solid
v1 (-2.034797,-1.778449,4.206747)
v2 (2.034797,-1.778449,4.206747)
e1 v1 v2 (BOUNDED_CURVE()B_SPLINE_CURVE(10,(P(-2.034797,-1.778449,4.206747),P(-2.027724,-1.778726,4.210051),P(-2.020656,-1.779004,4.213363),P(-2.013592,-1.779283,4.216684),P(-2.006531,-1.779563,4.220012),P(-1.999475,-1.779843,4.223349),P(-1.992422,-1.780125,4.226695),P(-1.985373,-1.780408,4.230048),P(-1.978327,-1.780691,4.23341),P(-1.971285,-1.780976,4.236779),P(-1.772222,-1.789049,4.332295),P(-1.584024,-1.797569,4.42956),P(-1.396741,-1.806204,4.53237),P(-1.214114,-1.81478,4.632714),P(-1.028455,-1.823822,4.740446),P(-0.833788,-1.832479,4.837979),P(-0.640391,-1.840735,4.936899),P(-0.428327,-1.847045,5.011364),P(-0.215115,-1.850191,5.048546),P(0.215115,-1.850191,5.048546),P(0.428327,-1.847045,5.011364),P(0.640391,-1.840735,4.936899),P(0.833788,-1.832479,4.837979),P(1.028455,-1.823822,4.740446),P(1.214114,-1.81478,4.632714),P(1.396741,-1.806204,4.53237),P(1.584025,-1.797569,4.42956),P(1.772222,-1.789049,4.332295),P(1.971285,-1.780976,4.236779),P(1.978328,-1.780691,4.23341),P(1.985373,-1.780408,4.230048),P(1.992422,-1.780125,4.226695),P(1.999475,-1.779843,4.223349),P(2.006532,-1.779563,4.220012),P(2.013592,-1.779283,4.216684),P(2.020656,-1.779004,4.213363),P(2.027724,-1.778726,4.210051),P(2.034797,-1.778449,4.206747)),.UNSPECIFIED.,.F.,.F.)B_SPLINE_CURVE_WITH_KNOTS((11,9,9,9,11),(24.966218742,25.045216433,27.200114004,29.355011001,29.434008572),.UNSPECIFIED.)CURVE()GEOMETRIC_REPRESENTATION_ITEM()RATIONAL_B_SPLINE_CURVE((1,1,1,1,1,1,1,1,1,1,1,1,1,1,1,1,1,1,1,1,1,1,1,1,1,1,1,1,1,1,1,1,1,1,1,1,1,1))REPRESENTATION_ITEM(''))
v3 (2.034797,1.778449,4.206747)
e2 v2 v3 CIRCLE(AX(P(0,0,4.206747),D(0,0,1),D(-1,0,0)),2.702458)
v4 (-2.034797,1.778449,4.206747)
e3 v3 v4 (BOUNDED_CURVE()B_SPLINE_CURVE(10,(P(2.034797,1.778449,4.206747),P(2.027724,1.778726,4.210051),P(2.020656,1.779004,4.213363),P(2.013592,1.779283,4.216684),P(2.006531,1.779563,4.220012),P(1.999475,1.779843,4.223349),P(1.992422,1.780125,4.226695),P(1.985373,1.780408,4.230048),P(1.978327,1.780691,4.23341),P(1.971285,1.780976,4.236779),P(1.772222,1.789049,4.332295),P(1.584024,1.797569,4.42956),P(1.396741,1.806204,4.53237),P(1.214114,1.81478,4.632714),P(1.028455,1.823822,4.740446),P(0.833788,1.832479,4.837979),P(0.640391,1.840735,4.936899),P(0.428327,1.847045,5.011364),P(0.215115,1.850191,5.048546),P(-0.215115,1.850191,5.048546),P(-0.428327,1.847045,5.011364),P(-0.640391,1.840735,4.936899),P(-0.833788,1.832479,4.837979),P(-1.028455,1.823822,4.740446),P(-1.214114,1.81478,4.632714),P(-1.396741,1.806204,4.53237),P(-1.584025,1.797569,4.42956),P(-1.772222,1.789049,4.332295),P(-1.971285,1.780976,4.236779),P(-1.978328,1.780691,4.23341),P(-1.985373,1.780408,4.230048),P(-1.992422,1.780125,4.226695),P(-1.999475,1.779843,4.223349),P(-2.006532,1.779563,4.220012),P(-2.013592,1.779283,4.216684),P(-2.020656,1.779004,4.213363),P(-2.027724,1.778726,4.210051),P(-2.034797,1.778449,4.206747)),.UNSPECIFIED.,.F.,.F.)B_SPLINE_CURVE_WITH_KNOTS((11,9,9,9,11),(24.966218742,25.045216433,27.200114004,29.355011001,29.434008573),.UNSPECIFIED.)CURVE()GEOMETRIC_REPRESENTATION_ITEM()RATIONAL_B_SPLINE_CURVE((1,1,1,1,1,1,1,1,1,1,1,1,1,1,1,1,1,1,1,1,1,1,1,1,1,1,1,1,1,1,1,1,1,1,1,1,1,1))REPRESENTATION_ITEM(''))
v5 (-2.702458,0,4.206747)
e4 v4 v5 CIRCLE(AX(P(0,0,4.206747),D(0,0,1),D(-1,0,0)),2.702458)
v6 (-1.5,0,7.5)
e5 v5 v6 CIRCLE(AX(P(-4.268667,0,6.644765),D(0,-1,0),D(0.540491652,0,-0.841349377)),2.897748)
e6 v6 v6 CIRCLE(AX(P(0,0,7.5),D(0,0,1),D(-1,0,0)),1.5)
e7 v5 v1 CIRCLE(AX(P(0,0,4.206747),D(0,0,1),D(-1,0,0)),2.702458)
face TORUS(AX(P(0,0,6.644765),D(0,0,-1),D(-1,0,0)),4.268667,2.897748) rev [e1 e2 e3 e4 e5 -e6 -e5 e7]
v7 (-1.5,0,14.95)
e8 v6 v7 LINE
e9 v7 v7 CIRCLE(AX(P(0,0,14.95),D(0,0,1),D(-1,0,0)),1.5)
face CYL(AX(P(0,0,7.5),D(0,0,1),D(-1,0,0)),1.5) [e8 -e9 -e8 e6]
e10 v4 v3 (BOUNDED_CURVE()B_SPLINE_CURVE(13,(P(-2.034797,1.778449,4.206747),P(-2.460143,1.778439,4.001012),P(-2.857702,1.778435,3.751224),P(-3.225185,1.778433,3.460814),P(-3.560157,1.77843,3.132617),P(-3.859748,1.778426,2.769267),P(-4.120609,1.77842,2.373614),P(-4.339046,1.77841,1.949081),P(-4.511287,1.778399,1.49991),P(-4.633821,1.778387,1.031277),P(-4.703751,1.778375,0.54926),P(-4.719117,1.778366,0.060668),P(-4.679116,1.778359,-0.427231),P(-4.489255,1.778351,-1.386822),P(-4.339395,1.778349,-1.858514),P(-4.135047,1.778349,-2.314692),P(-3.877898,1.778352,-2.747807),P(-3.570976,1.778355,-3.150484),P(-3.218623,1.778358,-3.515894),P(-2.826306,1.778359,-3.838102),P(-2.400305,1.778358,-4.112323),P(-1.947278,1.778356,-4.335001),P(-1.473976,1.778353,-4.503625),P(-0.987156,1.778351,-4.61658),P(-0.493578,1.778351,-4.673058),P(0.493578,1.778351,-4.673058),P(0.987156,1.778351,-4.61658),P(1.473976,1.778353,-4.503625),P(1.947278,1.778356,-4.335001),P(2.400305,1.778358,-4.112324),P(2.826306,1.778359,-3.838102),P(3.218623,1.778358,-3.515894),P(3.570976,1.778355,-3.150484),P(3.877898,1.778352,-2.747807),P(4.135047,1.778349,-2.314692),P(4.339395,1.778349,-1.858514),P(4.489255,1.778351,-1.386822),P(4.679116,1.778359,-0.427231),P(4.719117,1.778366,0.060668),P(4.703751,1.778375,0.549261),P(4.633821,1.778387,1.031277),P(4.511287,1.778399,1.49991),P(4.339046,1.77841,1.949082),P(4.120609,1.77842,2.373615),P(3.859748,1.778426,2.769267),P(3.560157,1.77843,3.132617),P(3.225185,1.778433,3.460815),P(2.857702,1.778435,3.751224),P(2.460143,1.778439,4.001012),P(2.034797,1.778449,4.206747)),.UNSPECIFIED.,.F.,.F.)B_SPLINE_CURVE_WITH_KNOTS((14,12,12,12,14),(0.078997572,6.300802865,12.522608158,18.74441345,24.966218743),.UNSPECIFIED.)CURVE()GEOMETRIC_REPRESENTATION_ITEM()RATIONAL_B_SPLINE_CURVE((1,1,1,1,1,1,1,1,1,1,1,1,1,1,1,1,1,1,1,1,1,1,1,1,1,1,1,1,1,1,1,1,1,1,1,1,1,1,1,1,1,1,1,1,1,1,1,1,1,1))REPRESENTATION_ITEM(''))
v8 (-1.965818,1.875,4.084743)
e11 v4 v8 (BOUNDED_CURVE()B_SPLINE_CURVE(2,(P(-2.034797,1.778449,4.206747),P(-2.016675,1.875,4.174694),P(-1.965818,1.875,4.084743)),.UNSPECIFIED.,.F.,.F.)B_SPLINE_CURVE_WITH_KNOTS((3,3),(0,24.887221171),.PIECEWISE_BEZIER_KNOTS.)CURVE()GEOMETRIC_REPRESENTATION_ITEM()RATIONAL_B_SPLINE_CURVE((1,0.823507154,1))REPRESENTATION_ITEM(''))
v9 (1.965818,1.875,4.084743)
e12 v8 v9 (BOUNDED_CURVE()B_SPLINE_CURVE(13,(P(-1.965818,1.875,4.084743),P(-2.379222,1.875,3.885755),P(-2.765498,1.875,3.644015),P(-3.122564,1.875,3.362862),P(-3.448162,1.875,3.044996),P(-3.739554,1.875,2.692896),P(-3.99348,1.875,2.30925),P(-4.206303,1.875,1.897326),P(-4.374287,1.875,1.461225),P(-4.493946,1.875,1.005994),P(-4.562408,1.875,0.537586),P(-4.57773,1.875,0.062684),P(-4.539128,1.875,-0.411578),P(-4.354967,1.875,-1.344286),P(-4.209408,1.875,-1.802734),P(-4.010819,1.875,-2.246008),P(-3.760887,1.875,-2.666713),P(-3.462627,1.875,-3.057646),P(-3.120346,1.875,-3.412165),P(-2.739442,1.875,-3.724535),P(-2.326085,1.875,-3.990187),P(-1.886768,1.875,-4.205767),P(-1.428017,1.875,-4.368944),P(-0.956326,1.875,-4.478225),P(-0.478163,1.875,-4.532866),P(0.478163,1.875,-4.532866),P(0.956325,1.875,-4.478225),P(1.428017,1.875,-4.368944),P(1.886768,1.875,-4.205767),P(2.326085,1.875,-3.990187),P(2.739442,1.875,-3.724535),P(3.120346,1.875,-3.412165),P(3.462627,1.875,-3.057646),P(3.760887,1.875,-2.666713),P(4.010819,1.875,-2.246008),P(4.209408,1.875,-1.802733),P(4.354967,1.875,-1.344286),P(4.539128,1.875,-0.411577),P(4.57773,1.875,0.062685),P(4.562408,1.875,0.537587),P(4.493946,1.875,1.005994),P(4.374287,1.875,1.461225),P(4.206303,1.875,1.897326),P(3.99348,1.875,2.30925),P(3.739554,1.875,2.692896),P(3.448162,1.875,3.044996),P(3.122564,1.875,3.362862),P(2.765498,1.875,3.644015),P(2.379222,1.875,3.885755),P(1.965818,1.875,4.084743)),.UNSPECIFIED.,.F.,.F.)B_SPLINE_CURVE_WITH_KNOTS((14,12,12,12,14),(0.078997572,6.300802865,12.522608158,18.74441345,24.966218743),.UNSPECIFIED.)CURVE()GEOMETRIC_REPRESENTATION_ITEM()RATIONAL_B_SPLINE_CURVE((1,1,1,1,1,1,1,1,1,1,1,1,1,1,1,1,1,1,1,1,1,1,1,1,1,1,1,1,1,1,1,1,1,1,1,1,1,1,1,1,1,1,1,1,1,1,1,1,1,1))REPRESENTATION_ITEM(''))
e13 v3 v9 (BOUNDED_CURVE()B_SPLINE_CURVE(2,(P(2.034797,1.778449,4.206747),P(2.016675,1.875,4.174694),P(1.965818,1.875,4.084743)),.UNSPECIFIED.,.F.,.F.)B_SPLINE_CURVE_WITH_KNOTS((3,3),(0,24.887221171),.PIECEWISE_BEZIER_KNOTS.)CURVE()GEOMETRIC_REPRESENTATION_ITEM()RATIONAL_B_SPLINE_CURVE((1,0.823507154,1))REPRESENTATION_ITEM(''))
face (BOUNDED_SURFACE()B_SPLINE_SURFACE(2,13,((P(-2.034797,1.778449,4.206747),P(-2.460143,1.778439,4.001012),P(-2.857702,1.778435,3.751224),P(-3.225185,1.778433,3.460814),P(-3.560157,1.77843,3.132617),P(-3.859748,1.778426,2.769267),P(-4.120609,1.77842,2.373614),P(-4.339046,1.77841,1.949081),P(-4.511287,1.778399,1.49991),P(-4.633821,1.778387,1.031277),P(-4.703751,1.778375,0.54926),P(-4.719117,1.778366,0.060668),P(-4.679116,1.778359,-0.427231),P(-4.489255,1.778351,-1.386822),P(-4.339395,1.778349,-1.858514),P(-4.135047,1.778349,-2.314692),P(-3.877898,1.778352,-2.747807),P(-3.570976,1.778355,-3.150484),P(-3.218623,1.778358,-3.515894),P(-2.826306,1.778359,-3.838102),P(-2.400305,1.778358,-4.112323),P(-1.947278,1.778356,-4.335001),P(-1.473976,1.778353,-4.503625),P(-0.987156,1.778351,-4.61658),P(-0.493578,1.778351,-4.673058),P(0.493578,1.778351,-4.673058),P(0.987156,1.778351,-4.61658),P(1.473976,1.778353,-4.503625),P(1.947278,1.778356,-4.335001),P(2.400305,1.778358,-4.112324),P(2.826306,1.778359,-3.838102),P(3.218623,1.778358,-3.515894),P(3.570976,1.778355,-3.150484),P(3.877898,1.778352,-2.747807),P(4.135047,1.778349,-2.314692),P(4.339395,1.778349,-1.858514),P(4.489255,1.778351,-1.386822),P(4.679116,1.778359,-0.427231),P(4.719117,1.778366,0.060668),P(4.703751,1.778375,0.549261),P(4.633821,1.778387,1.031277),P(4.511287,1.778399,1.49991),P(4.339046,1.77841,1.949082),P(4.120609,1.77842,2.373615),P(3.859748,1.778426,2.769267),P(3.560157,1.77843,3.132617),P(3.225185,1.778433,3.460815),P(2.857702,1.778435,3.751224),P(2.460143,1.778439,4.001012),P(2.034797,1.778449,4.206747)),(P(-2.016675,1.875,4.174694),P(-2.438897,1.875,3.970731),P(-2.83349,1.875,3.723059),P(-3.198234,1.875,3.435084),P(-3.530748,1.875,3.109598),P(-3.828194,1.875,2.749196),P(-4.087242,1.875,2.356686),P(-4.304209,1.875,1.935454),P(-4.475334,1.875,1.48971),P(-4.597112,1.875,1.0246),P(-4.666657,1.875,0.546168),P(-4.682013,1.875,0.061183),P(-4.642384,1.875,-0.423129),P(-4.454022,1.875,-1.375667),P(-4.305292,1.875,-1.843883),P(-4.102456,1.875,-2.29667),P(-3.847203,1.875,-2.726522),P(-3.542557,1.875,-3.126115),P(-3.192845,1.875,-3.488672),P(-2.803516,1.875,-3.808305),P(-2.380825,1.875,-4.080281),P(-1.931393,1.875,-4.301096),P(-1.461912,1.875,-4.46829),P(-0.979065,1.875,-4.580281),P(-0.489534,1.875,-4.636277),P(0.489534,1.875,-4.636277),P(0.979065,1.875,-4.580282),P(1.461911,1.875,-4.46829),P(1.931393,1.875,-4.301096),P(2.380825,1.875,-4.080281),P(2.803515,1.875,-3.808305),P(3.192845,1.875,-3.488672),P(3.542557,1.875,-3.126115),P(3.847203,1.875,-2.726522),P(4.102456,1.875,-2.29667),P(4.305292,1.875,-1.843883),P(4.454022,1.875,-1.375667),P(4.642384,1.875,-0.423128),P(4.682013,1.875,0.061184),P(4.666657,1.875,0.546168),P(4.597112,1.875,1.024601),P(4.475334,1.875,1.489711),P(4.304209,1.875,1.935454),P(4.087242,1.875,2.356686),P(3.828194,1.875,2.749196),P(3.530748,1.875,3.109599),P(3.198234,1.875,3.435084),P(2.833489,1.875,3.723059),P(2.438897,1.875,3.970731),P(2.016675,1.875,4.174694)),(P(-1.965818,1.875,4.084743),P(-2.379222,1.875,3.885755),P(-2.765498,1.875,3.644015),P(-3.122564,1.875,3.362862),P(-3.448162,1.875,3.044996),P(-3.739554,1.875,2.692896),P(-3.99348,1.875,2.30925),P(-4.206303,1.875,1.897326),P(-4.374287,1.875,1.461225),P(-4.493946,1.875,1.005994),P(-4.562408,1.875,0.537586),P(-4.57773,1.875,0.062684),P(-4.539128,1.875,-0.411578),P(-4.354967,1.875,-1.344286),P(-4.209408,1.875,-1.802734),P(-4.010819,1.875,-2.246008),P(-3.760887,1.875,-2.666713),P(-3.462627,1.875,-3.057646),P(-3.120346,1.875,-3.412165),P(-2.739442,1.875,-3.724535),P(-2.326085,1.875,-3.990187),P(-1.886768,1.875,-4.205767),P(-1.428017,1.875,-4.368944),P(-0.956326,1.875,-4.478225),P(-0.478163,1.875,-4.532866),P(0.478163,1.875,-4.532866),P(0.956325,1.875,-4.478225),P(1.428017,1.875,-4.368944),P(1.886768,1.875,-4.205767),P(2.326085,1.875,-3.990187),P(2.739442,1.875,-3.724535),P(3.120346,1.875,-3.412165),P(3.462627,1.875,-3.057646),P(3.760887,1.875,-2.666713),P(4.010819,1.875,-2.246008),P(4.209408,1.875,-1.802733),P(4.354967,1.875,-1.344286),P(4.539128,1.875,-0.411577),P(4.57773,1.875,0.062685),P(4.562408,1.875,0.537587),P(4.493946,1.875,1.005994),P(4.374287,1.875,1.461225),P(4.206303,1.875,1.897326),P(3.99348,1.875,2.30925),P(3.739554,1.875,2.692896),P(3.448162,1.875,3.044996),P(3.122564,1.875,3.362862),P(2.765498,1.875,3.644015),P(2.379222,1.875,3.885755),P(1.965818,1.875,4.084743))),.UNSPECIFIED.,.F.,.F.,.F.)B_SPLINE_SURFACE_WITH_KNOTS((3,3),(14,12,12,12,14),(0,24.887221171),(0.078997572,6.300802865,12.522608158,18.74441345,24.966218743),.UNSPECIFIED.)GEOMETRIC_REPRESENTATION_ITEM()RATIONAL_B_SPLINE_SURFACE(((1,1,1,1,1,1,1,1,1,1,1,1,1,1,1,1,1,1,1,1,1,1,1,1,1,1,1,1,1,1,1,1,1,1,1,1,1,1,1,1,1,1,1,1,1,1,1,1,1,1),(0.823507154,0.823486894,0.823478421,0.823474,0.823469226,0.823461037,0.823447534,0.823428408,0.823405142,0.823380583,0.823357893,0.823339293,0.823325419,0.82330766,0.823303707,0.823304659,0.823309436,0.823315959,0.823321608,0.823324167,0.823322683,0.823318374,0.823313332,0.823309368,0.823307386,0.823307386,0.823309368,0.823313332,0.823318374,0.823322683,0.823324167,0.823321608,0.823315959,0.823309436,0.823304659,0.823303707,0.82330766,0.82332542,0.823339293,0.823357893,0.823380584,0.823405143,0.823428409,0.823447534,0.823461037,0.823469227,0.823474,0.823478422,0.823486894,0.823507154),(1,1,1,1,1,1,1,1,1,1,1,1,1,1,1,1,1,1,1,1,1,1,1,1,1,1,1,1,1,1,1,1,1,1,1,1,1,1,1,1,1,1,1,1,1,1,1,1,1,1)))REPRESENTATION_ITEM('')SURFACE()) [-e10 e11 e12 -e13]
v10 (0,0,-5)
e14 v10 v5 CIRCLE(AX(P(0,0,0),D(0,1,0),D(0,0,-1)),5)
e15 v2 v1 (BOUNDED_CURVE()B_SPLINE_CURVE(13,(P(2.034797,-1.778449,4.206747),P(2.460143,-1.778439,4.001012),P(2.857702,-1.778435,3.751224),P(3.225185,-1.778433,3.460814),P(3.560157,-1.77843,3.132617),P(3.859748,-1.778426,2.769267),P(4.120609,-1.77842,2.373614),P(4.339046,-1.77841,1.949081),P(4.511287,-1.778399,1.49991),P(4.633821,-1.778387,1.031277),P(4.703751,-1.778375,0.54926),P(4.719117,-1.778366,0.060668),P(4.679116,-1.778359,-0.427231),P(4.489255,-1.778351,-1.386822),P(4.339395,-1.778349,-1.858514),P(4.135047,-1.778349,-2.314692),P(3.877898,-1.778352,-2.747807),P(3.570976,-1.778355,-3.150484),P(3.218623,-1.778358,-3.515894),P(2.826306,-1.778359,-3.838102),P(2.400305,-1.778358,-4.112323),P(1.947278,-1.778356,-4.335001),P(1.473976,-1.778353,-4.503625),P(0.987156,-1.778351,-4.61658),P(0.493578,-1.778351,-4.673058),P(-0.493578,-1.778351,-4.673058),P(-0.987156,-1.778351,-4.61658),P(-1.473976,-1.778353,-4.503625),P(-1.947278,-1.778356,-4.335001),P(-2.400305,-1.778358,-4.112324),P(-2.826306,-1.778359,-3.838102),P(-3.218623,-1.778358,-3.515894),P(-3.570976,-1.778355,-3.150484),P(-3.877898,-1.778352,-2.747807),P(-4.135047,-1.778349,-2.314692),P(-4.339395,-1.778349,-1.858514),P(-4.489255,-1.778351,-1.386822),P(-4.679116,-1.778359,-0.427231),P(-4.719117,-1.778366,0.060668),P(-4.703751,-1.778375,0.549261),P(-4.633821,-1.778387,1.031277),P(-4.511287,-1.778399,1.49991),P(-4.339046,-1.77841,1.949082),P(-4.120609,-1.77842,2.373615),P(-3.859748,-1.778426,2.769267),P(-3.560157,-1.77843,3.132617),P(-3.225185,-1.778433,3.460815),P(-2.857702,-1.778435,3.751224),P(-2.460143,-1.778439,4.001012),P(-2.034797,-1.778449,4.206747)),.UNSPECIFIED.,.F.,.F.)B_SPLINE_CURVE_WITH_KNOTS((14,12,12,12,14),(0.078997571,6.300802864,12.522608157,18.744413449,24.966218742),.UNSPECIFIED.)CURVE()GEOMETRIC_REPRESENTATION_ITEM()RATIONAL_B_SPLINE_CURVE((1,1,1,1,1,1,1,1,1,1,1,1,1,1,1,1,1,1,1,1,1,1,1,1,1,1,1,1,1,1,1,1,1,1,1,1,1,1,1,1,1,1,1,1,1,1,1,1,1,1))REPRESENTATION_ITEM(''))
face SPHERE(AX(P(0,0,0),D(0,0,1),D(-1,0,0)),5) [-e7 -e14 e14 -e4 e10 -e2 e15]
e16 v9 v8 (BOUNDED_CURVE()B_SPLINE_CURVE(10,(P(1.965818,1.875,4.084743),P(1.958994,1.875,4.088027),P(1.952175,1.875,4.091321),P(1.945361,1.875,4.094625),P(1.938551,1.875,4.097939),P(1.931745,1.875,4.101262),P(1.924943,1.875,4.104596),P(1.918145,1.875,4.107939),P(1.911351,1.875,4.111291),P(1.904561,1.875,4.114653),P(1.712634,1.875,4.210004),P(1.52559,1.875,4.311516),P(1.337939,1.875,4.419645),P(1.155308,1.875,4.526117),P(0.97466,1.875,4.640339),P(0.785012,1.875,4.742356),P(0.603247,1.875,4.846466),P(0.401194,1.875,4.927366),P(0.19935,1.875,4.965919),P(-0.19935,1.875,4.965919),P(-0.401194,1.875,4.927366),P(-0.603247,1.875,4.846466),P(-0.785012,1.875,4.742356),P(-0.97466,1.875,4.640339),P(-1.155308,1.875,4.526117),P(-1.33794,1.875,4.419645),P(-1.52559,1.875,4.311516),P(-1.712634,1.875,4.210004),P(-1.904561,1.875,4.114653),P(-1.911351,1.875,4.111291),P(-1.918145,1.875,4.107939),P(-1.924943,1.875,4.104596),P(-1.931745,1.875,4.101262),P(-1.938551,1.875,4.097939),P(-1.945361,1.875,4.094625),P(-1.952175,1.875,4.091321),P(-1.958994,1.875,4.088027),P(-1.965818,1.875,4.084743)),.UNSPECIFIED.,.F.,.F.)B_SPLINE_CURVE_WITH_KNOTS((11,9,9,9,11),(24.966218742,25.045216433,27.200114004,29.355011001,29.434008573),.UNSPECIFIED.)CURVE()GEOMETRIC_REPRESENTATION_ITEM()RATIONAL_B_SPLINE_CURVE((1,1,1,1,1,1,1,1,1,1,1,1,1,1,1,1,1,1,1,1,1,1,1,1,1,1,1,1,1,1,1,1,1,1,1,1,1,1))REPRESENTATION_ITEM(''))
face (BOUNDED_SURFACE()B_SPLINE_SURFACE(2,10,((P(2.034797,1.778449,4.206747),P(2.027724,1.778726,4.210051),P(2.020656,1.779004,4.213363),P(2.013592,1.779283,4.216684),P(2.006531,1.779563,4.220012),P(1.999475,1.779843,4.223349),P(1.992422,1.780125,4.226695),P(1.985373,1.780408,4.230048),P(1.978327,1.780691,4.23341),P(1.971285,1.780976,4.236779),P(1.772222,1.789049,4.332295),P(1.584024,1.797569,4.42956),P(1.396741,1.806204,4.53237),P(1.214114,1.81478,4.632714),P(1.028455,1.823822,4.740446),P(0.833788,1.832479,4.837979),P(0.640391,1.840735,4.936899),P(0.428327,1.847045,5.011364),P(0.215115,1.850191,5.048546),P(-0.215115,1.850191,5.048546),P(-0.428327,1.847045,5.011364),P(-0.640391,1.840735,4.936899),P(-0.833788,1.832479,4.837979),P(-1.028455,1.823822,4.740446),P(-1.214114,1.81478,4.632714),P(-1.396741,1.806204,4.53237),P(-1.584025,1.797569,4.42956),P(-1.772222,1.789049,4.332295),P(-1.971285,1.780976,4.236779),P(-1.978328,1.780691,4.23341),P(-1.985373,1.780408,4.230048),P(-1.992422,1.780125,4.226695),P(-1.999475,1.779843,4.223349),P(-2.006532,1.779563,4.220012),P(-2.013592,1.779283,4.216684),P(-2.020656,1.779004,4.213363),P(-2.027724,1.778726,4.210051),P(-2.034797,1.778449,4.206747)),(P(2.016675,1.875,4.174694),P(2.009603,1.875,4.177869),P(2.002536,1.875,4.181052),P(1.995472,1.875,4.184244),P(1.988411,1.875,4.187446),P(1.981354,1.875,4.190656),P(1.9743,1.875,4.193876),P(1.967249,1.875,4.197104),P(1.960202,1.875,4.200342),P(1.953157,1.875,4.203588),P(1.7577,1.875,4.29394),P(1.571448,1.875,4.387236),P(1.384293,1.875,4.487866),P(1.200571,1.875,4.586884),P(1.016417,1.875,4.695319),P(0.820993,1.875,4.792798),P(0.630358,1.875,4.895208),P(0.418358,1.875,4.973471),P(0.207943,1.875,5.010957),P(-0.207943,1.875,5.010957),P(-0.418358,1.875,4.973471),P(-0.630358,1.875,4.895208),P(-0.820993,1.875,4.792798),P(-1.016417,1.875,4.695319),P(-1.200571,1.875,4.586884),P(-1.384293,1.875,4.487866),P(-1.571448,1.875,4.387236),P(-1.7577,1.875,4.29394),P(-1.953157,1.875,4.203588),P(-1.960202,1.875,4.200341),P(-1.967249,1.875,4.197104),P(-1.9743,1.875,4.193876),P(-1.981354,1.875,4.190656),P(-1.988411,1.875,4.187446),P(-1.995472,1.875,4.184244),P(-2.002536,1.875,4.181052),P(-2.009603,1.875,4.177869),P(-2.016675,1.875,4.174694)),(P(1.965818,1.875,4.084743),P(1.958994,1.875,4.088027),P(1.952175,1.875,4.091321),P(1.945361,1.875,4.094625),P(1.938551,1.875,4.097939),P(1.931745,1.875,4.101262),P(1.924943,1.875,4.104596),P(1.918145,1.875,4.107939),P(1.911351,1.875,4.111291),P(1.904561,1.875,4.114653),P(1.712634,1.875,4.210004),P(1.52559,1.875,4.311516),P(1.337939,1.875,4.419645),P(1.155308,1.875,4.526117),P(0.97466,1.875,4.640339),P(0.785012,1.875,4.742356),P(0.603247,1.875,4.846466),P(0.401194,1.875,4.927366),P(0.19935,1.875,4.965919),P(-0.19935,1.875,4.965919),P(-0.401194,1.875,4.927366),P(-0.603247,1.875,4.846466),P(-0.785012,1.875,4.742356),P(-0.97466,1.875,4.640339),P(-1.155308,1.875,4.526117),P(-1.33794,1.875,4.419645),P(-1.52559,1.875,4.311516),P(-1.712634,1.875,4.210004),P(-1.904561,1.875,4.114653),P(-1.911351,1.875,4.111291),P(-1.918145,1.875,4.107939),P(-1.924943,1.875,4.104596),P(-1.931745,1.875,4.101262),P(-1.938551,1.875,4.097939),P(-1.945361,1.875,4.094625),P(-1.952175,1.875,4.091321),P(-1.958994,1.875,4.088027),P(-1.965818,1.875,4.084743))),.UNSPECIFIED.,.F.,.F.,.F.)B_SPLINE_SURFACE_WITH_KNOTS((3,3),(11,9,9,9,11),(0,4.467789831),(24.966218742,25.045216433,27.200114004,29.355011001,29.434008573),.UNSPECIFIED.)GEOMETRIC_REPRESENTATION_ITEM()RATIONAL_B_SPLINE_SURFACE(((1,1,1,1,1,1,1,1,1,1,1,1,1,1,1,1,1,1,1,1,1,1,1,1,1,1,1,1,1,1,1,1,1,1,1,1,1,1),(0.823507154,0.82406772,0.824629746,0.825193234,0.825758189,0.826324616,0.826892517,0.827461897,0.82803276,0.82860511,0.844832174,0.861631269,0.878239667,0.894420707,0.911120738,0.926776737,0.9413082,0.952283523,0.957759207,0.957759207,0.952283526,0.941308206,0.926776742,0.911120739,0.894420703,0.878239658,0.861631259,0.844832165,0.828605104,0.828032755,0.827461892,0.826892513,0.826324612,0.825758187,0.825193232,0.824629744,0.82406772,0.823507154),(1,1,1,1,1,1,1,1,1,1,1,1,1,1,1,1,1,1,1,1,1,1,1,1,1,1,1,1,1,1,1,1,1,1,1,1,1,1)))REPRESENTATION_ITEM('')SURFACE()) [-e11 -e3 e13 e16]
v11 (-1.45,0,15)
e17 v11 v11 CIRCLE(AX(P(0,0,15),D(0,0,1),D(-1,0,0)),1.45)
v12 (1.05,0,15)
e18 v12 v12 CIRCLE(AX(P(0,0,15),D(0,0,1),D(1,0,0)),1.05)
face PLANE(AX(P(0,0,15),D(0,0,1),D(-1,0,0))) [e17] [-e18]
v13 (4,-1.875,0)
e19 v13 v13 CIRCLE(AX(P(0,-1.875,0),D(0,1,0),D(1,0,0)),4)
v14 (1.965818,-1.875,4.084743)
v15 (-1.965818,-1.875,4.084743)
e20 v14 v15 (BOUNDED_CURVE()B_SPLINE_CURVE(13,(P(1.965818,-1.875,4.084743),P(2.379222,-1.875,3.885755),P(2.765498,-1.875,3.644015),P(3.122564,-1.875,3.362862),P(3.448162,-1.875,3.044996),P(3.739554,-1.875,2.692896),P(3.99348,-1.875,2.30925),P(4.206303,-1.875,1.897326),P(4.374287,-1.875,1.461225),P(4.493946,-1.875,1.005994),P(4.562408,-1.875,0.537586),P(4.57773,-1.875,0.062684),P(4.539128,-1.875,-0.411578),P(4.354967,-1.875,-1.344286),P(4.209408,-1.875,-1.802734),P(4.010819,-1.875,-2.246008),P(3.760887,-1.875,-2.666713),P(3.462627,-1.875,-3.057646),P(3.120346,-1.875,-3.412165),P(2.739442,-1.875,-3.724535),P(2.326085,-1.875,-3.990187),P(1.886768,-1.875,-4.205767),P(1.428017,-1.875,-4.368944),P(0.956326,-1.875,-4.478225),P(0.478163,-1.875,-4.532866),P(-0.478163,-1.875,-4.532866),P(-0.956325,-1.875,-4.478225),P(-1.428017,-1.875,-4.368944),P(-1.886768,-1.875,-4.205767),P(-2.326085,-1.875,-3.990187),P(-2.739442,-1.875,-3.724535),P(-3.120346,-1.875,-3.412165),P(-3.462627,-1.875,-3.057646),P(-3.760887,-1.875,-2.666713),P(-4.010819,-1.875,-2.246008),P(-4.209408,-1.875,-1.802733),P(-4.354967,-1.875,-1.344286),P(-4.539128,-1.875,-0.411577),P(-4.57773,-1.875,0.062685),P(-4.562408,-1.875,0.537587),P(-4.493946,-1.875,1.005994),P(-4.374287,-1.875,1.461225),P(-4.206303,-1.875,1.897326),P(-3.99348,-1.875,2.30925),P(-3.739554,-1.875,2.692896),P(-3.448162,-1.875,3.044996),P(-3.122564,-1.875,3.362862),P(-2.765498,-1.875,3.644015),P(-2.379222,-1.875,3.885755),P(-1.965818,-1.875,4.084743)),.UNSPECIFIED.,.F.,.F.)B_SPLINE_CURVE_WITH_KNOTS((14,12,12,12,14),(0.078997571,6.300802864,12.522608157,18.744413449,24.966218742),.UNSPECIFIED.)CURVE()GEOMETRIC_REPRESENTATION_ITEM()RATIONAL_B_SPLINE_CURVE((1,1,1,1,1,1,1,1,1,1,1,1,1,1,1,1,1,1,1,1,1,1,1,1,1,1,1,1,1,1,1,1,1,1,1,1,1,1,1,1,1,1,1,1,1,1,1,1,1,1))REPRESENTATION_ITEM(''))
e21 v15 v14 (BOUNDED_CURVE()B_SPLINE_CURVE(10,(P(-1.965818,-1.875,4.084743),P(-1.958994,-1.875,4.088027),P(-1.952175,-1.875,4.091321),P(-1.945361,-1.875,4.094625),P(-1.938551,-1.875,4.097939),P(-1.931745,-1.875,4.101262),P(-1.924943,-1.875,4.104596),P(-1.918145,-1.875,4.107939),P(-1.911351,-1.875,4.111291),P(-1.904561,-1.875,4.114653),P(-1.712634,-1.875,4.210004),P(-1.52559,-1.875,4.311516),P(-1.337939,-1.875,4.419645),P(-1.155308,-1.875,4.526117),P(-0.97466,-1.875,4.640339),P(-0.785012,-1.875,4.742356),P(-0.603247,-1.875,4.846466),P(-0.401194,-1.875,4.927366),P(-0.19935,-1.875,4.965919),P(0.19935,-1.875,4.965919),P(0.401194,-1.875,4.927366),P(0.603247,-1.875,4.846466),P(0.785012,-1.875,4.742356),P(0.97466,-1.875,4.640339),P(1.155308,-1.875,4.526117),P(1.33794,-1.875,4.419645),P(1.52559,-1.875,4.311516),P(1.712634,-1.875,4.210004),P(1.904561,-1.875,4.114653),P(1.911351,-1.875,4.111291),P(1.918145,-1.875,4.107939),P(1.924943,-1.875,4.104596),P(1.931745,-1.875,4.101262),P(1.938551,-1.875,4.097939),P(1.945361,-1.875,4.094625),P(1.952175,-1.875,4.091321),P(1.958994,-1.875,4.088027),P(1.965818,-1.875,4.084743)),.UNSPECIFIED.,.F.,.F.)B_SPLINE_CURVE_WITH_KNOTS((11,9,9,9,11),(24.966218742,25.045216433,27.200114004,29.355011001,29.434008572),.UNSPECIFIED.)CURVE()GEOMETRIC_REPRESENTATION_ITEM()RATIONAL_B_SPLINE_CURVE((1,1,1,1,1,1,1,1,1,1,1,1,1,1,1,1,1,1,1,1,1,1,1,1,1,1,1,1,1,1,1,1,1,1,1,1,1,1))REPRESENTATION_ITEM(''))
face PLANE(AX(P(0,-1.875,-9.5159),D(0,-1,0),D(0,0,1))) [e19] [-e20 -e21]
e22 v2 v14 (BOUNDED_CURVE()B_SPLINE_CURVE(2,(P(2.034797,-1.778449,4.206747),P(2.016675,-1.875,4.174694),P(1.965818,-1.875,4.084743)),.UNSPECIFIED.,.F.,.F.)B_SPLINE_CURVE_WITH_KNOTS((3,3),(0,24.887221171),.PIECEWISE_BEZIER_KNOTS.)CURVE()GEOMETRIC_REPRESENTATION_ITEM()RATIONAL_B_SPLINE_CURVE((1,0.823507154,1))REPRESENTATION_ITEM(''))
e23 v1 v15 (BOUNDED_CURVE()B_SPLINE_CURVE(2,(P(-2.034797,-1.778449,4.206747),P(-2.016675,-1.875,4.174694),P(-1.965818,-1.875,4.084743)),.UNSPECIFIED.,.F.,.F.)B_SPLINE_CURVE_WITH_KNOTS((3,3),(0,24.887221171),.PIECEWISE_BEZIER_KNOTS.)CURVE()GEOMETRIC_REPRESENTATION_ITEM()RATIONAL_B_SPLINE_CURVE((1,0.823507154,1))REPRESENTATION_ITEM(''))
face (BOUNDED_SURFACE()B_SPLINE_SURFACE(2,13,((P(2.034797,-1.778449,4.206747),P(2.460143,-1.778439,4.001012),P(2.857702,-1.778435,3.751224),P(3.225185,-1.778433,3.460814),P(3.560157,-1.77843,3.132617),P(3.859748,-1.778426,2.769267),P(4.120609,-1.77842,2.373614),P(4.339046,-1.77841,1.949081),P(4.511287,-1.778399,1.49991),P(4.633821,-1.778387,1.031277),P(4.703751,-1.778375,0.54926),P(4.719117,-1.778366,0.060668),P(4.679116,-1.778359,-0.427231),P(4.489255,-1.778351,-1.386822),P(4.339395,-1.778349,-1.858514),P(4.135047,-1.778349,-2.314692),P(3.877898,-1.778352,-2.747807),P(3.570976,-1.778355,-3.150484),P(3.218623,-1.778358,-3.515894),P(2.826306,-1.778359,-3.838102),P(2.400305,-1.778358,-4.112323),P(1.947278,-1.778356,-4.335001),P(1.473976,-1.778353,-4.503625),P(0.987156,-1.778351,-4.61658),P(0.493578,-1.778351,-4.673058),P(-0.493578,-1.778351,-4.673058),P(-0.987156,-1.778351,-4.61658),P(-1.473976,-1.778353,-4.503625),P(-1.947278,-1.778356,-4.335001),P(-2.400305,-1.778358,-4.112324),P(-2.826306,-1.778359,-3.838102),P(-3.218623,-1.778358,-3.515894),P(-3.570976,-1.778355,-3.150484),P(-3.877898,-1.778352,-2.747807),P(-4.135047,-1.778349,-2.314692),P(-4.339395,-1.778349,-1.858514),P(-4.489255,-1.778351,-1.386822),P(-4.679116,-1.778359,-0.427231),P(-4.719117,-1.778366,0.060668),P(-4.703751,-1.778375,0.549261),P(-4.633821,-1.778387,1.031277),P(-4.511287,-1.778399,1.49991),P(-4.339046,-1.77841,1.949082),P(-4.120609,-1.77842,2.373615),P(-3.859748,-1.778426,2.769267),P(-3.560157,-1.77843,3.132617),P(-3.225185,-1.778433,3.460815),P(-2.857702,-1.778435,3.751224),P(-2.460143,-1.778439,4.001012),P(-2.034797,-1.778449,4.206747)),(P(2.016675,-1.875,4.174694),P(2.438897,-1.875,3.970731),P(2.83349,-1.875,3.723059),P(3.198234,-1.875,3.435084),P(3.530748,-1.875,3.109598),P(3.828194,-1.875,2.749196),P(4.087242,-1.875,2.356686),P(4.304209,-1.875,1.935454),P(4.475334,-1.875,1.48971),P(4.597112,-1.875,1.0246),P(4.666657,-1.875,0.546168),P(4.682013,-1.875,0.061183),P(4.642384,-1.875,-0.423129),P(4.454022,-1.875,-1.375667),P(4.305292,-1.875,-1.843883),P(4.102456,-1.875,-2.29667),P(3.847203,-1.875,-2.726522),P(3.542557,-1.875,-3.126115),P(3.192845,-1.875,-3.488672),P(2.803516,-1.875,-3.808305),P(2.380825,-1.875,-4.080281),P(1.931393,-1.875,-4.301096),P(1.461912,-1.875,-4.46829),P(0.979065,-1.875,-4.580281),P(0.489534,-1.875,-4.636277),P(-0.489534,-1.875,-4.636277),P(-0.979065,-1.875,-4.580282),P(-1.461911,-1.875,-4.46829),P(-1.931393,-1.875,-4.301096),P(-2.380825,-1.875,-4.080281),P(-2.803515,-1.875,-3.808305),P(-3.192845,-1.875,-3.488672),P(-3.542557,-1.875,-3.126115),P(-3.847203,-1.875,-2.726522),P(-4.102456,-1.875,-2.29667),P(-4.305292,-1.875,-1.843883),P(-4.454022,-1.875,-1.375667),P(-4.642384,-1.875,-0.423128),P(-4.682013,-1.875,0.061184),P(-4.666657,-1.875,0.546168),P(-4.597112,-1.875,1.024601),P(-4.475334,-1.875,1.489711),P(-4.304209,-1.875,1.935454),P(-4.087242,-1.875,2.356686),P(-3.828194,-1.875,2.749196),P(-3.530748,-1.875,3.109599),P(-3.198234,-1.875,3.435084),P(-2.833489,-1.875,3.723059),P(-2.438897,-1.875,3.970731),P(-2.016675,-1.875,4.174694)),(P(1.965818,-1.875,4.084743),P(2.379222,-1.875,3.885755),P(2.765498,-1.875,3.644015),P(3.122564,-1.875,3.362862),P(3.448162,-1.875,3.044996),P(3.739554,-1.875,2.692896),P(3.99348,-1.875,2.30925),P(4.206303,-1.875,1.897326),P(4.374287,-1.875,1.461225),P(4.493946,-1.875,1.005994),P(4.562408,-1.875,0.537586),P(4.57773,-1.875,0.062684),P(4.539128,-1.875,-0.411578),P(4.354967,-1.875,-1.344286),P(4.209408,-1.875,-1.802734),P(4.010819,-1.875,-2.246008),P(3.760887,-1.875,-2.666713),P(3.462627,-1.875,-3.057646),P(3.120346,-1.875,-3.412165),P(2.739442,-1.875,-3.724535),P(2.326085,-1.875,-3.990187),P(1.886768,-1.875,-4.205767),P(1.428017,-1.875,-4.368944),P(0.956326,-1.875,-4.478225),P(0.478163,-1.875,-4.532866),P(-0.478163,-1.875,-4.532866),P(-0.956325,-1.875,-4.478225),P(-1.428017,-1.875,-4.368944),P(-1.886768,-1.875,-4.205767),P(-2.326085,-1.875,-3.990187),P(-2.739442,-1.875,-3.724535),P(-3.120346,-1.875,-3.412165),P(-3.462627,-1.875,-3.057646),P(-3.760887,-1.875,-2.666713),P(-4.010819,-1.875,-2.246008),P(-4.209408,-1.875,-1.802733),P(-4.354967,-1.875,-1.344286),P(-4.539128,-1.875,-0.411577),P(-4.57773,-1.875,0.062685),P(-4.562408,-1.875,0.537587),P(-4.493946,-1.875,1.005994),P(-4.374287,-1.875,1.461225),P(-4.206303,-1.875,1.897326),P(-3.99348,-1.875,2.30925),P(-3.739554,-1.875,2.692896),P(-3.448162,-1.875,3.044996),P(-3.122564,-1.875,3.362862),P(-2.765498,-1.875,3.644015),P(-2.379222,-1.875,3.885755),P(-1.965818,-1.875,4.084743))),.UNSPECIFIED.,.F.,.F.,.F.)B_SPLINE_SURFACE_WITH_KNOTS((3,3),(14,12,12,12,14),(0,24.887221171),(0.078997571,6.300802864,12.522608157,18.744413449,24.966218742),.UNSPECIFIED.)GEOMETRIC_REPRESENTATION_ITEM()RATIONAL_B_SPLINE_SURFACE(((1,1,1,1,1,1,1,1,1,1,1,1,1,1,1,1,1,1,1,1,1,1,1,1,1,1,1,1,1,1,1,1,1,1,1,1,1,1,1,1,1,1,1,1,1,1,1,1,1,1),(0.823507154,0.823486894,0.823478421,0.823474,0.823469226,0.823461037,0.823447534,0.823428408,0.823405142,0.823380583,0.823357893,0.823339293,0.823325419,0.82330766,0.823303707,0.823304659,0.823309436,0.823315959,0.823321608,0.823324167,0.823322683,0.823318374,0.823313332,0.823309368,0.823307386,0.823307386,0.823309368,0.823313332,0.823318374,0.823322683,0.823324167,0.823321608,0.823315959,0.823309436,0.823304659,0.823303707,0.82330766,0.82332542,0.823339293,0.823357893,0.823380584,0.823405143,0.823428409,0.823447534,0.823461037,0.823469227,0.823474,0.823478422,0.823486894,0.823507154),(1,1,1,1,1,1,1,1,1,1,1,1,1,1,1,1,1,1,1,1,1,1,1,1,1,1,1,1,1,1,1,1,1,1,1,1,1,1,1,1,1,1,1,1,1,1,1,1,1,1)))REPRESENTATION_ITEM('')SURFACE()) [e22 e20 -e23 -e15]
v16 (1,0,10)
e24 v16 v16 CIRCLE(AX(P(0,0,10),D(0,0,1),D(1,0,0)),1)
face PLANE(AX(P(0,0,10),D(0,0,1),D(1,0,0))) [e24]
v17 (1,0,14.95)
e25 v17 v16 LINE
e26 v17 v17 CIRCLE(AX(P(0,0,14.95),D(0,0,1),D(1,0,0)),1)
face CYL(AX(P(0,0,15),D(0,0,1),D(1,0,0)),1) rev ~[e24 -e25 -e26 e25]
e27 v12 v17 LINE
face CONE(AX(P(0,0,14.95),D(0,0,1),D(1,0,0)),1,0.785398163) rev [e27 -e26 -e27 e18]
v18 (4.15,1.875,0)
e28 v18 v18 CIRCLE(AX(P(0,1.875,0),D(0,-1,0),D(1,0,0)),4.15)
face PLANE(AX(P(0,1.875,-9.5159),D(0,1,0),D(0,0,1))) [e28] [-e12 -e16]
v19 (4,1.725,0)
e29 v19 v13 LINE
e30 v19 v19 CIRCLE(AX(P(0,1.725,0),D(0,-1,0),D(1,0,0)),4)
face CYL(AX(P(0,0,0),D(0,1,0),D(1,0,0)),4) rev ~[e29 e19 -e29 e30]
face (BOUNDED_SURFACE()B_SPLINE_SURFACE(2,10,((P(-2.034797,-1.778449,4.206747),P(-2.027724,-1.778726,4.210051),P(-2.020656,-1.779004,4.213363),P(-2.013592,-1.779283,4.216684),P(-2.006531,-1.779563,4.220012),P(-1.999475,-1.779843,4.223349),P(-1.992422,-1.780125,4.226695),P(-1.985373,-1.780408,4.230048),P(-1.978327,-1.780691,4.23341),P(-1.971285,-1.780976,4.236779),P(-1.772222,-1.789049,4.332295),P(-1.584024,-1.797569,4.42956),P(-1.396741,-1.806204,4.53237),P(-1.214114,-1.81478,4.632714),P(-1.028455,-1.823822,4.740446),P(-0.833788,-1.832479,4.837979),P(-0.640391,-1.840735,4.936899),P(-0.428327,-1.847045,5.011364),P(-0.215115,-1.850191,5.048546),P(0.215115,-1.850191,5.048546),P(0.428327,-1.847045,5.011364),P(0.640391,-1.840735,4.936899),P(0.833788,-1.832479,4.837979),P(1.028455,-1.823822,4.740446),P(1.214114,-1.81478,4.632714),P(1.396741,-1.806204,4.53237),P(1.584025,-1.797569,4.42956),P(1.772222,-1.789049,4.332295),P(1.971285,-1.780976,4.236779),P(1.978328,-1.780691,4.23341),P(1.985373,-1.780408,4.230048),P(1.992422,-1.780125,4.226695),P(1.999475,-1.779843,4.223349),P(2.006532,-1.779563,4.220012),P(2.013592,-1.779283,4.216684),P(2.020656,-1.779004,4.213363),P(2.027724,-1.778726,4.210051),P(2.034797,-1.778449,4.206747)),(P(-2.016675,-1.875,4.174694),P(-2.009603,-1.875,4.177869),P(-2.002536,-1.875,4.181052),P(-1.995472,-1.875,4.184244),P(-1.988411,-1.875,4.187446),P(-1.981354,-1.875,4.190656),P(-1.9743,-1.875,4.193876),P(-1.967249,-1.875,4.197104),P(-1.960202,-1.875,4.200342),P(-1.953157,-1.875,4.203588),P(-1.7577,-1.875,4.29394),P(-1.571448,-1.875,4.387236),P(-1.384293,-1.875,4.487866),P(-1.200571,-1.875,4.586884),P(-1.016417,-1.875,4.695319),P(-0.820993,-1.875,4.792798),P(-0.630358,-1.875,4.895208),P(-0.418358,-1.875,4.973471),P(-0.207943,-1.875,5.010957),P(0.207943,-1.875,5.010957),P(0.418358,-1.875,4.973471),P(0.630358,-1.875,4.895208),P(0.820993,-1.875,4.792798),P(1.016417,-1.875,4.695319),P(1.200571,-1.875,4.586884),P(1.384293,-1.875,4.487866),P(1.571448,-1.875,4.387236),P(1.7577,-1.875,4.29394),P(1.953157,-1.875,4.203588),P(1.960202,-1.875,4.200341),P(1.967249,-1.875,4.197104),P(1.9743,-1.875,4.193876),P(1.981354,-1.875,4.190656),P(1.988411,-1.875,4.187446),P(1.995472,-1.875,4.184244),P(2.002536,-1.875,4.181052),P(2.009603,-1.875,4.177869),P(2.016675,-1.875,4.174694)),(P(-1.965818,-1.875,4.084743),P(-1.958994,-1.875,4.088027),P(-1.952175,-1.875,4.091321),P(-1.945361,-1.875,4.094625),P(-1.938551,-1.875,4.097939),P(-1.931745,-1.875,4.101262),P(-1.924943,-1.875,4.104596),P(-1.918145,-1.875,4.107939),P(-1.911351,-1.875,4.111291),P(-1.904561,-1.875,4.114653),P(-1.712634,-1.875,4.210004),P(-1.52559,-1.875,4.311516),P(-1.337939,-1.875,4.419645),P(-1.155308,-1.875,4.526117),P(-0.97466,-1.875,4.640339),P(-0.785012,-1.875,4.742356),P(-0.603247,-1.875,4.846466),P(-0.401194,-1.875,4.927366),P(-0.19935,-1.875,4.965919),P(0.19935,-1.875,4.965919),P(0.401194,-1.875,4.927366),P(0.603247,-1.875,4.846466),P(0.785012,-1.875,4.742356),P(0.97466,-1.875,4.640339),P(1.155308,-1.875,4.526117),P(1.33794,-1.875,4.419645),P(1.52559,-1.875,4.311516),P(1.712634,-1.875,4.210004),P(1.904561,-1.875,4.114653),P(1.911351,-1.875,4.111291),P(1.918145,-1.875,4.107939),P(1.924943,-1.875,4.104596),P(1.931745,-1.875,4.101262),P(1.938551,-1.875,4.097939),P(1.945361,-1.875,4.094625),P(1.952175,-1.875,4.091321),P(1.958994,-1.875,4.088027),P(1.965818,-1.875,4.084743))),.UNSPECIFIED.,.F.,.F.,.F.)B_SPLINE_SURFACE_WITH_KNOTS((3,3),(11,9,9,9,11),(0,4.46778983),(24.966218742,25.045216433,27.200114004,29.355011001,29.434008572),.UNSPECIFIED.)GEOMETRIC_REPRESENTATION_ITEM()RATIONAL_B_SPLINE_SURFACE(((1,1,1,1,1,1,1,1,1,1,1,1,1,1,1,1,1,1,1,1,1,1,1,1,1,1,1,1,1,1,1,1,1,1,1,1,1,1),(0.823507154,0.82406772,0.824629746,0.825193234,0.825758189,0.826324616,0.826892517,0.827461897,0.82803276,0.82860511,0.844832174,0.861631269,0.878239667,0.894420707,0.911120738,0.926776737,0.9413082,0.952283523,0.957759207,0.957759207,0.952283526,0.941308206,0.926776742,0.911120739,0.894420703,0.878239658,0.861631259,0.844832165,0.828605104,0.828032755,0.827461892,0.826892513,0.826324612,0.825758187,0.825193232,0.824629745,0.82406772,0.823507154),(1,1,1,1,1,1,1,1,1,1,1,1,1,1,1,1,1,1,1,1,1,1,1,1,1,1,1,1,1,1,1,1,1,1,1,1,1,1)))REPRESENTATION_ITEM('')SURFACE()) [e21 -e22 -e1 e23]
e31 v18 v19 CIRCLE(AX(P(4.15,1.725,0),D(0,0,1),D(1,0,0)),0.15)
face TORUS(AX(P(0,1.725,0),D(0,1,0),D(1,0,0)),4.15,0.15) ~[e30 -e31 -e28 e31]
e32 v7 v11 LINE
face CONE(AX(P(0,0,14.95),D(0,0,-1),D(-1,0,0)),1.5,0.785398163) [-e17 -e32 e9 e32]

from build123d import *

# Parameters (mm, degrees)
CUT_EXTRUDE1_DEPTH      = 10
CUT_EXTRUDE1_DEPTH_BACK = 10
SKETCH4_R               = 4
CUT_EXTRUDE2_DEPTH      = 10
CUT_EXTRUDE2_DEPTH_BACK = 10
FILLET1_R               = 0.15
SKETCH5_R               = 1
CUT_EXTRUDE3_DEPTH      = 5
CHAMFER1_SIZE           = 0.05


with BuildPart() as part:
    # Sketch2 → Revolve1 (revolve)
    with BuildSketch(Plane(origin=(0, 0, 0), x_dir=(1, 0, 0), z_dir=(0, 1, 0))):
        with BuildLine():
            Line((-1.5, -15), (0, -15))
            Line((0, -15), (0, 5))
            ThreePointArc((0, 5), (-4.79758973, 1.408237475), (-2.702458258, -4.206746886))
            ThreePointArc((-2.702458258, -4.206746886), (-1.546688632, -5.650895292), (-1.5, -7.5))
            Line((-1.5, -7.5), (-1.5, -15))
        make_face()
    revolve(axis=Axis((0, 0, -5), (0, 0, 1)))

    # Sketch3 → Cut-Extrude1 (cut, two sides)
    with BuildSketch(Plane(origin=(0, 0, 0), x_dir=(0, 0, -1), z_dir=(1, 0, 0))) as cut_extrude1_sk:
        with BuildLine():
            Line((-17.836706107, 9.431664346), (9.515900439, 9.431664346))
            Line((9.515900439, 9.431664346), (9.515900439, 1.875))
            Line((9.515900439, 1.875), (-5.468177039, 1.875))
            ThreePointArc((-5.468177039, 1.875), (-6.971706036, 2.106415246), (-8.336059221, 2.779239779))
            Line((-8.336059221, 2.779239779), (-17.836706107, 9.431664346))
        make_face()
        with BuildLine():
            Line((9.515900439, -1.875), (-5.468177039, -1.875))
            ThreePointArc((-5.468177039, -1.875), (-6.971706036, -2.106415246), (-8.336059221, -2.779239779))
            Line((-8.336059221, -2.779239779), (-17.836706107, -9.431664346))
            Line((-17.836706107, -9.431664346), (9.515900439, -9.431664346))
            Line((9.515900439, -9.431664346), (9.515900439, -1.875))
        make_face()
    extrude(amount=CUT_EXTRUDE1_DEPTH, mode=Mode.SUBTRACT)
    extrude(cut_extrude1_sk.sketch, amount=-CUT_EXTRUDE1_DEPTH_BACK, mode=Mode.SUBTRACT)

    # Sketch4 → Cut-Extrude2 (cut, two sides)
    with BuildSketch(Plane(origin=(0, 0, 0), x_dir=(1, 0, 0), z_dir=(0, 1, 0))) as cut_extrude2_sk:
        Circle(SKETCH4_R)
    extrude(amount=CUT_EXTRUDE2_DEPTH, mode=Mode.SUBTRACT)
    extrude(cut_extrude2_sk.sketch, amount=-CUT_EXTRUDE2_DEPTH_BACK, mode=Mode.SUBTRACT)

    # Fillet1
    fillet1_edges = [part.edges().sort_by_distance(p)[0] for p in [
        (0, 1.875, -4.635124054),
        (0, -1.875, -4.635124054),
        (-4, 1.875, 0),
    ]]
    fillet(fillet1_edges, radius=FILLET1_R)

    # Sketch5 → Cut-Extrude3 (cut)
    with BuildSketch(Plane.XY.offset(15)):
        Circle(SKETCH5_R)
    extrude(amount=-CUT_EXTRUDE3_DEPTH, mode=Mode.SUBTRACT)

    # Chamfer1
    chamfer1_edges = [part.edges().sort_by_distance(p)[0] for p in [
        (1.5, 0, 15),
        (-1, 0, 15),
    ]]
    chamfer(chamfer1_edges, length=CHAMFER1_SIZE)


solid = part.part
